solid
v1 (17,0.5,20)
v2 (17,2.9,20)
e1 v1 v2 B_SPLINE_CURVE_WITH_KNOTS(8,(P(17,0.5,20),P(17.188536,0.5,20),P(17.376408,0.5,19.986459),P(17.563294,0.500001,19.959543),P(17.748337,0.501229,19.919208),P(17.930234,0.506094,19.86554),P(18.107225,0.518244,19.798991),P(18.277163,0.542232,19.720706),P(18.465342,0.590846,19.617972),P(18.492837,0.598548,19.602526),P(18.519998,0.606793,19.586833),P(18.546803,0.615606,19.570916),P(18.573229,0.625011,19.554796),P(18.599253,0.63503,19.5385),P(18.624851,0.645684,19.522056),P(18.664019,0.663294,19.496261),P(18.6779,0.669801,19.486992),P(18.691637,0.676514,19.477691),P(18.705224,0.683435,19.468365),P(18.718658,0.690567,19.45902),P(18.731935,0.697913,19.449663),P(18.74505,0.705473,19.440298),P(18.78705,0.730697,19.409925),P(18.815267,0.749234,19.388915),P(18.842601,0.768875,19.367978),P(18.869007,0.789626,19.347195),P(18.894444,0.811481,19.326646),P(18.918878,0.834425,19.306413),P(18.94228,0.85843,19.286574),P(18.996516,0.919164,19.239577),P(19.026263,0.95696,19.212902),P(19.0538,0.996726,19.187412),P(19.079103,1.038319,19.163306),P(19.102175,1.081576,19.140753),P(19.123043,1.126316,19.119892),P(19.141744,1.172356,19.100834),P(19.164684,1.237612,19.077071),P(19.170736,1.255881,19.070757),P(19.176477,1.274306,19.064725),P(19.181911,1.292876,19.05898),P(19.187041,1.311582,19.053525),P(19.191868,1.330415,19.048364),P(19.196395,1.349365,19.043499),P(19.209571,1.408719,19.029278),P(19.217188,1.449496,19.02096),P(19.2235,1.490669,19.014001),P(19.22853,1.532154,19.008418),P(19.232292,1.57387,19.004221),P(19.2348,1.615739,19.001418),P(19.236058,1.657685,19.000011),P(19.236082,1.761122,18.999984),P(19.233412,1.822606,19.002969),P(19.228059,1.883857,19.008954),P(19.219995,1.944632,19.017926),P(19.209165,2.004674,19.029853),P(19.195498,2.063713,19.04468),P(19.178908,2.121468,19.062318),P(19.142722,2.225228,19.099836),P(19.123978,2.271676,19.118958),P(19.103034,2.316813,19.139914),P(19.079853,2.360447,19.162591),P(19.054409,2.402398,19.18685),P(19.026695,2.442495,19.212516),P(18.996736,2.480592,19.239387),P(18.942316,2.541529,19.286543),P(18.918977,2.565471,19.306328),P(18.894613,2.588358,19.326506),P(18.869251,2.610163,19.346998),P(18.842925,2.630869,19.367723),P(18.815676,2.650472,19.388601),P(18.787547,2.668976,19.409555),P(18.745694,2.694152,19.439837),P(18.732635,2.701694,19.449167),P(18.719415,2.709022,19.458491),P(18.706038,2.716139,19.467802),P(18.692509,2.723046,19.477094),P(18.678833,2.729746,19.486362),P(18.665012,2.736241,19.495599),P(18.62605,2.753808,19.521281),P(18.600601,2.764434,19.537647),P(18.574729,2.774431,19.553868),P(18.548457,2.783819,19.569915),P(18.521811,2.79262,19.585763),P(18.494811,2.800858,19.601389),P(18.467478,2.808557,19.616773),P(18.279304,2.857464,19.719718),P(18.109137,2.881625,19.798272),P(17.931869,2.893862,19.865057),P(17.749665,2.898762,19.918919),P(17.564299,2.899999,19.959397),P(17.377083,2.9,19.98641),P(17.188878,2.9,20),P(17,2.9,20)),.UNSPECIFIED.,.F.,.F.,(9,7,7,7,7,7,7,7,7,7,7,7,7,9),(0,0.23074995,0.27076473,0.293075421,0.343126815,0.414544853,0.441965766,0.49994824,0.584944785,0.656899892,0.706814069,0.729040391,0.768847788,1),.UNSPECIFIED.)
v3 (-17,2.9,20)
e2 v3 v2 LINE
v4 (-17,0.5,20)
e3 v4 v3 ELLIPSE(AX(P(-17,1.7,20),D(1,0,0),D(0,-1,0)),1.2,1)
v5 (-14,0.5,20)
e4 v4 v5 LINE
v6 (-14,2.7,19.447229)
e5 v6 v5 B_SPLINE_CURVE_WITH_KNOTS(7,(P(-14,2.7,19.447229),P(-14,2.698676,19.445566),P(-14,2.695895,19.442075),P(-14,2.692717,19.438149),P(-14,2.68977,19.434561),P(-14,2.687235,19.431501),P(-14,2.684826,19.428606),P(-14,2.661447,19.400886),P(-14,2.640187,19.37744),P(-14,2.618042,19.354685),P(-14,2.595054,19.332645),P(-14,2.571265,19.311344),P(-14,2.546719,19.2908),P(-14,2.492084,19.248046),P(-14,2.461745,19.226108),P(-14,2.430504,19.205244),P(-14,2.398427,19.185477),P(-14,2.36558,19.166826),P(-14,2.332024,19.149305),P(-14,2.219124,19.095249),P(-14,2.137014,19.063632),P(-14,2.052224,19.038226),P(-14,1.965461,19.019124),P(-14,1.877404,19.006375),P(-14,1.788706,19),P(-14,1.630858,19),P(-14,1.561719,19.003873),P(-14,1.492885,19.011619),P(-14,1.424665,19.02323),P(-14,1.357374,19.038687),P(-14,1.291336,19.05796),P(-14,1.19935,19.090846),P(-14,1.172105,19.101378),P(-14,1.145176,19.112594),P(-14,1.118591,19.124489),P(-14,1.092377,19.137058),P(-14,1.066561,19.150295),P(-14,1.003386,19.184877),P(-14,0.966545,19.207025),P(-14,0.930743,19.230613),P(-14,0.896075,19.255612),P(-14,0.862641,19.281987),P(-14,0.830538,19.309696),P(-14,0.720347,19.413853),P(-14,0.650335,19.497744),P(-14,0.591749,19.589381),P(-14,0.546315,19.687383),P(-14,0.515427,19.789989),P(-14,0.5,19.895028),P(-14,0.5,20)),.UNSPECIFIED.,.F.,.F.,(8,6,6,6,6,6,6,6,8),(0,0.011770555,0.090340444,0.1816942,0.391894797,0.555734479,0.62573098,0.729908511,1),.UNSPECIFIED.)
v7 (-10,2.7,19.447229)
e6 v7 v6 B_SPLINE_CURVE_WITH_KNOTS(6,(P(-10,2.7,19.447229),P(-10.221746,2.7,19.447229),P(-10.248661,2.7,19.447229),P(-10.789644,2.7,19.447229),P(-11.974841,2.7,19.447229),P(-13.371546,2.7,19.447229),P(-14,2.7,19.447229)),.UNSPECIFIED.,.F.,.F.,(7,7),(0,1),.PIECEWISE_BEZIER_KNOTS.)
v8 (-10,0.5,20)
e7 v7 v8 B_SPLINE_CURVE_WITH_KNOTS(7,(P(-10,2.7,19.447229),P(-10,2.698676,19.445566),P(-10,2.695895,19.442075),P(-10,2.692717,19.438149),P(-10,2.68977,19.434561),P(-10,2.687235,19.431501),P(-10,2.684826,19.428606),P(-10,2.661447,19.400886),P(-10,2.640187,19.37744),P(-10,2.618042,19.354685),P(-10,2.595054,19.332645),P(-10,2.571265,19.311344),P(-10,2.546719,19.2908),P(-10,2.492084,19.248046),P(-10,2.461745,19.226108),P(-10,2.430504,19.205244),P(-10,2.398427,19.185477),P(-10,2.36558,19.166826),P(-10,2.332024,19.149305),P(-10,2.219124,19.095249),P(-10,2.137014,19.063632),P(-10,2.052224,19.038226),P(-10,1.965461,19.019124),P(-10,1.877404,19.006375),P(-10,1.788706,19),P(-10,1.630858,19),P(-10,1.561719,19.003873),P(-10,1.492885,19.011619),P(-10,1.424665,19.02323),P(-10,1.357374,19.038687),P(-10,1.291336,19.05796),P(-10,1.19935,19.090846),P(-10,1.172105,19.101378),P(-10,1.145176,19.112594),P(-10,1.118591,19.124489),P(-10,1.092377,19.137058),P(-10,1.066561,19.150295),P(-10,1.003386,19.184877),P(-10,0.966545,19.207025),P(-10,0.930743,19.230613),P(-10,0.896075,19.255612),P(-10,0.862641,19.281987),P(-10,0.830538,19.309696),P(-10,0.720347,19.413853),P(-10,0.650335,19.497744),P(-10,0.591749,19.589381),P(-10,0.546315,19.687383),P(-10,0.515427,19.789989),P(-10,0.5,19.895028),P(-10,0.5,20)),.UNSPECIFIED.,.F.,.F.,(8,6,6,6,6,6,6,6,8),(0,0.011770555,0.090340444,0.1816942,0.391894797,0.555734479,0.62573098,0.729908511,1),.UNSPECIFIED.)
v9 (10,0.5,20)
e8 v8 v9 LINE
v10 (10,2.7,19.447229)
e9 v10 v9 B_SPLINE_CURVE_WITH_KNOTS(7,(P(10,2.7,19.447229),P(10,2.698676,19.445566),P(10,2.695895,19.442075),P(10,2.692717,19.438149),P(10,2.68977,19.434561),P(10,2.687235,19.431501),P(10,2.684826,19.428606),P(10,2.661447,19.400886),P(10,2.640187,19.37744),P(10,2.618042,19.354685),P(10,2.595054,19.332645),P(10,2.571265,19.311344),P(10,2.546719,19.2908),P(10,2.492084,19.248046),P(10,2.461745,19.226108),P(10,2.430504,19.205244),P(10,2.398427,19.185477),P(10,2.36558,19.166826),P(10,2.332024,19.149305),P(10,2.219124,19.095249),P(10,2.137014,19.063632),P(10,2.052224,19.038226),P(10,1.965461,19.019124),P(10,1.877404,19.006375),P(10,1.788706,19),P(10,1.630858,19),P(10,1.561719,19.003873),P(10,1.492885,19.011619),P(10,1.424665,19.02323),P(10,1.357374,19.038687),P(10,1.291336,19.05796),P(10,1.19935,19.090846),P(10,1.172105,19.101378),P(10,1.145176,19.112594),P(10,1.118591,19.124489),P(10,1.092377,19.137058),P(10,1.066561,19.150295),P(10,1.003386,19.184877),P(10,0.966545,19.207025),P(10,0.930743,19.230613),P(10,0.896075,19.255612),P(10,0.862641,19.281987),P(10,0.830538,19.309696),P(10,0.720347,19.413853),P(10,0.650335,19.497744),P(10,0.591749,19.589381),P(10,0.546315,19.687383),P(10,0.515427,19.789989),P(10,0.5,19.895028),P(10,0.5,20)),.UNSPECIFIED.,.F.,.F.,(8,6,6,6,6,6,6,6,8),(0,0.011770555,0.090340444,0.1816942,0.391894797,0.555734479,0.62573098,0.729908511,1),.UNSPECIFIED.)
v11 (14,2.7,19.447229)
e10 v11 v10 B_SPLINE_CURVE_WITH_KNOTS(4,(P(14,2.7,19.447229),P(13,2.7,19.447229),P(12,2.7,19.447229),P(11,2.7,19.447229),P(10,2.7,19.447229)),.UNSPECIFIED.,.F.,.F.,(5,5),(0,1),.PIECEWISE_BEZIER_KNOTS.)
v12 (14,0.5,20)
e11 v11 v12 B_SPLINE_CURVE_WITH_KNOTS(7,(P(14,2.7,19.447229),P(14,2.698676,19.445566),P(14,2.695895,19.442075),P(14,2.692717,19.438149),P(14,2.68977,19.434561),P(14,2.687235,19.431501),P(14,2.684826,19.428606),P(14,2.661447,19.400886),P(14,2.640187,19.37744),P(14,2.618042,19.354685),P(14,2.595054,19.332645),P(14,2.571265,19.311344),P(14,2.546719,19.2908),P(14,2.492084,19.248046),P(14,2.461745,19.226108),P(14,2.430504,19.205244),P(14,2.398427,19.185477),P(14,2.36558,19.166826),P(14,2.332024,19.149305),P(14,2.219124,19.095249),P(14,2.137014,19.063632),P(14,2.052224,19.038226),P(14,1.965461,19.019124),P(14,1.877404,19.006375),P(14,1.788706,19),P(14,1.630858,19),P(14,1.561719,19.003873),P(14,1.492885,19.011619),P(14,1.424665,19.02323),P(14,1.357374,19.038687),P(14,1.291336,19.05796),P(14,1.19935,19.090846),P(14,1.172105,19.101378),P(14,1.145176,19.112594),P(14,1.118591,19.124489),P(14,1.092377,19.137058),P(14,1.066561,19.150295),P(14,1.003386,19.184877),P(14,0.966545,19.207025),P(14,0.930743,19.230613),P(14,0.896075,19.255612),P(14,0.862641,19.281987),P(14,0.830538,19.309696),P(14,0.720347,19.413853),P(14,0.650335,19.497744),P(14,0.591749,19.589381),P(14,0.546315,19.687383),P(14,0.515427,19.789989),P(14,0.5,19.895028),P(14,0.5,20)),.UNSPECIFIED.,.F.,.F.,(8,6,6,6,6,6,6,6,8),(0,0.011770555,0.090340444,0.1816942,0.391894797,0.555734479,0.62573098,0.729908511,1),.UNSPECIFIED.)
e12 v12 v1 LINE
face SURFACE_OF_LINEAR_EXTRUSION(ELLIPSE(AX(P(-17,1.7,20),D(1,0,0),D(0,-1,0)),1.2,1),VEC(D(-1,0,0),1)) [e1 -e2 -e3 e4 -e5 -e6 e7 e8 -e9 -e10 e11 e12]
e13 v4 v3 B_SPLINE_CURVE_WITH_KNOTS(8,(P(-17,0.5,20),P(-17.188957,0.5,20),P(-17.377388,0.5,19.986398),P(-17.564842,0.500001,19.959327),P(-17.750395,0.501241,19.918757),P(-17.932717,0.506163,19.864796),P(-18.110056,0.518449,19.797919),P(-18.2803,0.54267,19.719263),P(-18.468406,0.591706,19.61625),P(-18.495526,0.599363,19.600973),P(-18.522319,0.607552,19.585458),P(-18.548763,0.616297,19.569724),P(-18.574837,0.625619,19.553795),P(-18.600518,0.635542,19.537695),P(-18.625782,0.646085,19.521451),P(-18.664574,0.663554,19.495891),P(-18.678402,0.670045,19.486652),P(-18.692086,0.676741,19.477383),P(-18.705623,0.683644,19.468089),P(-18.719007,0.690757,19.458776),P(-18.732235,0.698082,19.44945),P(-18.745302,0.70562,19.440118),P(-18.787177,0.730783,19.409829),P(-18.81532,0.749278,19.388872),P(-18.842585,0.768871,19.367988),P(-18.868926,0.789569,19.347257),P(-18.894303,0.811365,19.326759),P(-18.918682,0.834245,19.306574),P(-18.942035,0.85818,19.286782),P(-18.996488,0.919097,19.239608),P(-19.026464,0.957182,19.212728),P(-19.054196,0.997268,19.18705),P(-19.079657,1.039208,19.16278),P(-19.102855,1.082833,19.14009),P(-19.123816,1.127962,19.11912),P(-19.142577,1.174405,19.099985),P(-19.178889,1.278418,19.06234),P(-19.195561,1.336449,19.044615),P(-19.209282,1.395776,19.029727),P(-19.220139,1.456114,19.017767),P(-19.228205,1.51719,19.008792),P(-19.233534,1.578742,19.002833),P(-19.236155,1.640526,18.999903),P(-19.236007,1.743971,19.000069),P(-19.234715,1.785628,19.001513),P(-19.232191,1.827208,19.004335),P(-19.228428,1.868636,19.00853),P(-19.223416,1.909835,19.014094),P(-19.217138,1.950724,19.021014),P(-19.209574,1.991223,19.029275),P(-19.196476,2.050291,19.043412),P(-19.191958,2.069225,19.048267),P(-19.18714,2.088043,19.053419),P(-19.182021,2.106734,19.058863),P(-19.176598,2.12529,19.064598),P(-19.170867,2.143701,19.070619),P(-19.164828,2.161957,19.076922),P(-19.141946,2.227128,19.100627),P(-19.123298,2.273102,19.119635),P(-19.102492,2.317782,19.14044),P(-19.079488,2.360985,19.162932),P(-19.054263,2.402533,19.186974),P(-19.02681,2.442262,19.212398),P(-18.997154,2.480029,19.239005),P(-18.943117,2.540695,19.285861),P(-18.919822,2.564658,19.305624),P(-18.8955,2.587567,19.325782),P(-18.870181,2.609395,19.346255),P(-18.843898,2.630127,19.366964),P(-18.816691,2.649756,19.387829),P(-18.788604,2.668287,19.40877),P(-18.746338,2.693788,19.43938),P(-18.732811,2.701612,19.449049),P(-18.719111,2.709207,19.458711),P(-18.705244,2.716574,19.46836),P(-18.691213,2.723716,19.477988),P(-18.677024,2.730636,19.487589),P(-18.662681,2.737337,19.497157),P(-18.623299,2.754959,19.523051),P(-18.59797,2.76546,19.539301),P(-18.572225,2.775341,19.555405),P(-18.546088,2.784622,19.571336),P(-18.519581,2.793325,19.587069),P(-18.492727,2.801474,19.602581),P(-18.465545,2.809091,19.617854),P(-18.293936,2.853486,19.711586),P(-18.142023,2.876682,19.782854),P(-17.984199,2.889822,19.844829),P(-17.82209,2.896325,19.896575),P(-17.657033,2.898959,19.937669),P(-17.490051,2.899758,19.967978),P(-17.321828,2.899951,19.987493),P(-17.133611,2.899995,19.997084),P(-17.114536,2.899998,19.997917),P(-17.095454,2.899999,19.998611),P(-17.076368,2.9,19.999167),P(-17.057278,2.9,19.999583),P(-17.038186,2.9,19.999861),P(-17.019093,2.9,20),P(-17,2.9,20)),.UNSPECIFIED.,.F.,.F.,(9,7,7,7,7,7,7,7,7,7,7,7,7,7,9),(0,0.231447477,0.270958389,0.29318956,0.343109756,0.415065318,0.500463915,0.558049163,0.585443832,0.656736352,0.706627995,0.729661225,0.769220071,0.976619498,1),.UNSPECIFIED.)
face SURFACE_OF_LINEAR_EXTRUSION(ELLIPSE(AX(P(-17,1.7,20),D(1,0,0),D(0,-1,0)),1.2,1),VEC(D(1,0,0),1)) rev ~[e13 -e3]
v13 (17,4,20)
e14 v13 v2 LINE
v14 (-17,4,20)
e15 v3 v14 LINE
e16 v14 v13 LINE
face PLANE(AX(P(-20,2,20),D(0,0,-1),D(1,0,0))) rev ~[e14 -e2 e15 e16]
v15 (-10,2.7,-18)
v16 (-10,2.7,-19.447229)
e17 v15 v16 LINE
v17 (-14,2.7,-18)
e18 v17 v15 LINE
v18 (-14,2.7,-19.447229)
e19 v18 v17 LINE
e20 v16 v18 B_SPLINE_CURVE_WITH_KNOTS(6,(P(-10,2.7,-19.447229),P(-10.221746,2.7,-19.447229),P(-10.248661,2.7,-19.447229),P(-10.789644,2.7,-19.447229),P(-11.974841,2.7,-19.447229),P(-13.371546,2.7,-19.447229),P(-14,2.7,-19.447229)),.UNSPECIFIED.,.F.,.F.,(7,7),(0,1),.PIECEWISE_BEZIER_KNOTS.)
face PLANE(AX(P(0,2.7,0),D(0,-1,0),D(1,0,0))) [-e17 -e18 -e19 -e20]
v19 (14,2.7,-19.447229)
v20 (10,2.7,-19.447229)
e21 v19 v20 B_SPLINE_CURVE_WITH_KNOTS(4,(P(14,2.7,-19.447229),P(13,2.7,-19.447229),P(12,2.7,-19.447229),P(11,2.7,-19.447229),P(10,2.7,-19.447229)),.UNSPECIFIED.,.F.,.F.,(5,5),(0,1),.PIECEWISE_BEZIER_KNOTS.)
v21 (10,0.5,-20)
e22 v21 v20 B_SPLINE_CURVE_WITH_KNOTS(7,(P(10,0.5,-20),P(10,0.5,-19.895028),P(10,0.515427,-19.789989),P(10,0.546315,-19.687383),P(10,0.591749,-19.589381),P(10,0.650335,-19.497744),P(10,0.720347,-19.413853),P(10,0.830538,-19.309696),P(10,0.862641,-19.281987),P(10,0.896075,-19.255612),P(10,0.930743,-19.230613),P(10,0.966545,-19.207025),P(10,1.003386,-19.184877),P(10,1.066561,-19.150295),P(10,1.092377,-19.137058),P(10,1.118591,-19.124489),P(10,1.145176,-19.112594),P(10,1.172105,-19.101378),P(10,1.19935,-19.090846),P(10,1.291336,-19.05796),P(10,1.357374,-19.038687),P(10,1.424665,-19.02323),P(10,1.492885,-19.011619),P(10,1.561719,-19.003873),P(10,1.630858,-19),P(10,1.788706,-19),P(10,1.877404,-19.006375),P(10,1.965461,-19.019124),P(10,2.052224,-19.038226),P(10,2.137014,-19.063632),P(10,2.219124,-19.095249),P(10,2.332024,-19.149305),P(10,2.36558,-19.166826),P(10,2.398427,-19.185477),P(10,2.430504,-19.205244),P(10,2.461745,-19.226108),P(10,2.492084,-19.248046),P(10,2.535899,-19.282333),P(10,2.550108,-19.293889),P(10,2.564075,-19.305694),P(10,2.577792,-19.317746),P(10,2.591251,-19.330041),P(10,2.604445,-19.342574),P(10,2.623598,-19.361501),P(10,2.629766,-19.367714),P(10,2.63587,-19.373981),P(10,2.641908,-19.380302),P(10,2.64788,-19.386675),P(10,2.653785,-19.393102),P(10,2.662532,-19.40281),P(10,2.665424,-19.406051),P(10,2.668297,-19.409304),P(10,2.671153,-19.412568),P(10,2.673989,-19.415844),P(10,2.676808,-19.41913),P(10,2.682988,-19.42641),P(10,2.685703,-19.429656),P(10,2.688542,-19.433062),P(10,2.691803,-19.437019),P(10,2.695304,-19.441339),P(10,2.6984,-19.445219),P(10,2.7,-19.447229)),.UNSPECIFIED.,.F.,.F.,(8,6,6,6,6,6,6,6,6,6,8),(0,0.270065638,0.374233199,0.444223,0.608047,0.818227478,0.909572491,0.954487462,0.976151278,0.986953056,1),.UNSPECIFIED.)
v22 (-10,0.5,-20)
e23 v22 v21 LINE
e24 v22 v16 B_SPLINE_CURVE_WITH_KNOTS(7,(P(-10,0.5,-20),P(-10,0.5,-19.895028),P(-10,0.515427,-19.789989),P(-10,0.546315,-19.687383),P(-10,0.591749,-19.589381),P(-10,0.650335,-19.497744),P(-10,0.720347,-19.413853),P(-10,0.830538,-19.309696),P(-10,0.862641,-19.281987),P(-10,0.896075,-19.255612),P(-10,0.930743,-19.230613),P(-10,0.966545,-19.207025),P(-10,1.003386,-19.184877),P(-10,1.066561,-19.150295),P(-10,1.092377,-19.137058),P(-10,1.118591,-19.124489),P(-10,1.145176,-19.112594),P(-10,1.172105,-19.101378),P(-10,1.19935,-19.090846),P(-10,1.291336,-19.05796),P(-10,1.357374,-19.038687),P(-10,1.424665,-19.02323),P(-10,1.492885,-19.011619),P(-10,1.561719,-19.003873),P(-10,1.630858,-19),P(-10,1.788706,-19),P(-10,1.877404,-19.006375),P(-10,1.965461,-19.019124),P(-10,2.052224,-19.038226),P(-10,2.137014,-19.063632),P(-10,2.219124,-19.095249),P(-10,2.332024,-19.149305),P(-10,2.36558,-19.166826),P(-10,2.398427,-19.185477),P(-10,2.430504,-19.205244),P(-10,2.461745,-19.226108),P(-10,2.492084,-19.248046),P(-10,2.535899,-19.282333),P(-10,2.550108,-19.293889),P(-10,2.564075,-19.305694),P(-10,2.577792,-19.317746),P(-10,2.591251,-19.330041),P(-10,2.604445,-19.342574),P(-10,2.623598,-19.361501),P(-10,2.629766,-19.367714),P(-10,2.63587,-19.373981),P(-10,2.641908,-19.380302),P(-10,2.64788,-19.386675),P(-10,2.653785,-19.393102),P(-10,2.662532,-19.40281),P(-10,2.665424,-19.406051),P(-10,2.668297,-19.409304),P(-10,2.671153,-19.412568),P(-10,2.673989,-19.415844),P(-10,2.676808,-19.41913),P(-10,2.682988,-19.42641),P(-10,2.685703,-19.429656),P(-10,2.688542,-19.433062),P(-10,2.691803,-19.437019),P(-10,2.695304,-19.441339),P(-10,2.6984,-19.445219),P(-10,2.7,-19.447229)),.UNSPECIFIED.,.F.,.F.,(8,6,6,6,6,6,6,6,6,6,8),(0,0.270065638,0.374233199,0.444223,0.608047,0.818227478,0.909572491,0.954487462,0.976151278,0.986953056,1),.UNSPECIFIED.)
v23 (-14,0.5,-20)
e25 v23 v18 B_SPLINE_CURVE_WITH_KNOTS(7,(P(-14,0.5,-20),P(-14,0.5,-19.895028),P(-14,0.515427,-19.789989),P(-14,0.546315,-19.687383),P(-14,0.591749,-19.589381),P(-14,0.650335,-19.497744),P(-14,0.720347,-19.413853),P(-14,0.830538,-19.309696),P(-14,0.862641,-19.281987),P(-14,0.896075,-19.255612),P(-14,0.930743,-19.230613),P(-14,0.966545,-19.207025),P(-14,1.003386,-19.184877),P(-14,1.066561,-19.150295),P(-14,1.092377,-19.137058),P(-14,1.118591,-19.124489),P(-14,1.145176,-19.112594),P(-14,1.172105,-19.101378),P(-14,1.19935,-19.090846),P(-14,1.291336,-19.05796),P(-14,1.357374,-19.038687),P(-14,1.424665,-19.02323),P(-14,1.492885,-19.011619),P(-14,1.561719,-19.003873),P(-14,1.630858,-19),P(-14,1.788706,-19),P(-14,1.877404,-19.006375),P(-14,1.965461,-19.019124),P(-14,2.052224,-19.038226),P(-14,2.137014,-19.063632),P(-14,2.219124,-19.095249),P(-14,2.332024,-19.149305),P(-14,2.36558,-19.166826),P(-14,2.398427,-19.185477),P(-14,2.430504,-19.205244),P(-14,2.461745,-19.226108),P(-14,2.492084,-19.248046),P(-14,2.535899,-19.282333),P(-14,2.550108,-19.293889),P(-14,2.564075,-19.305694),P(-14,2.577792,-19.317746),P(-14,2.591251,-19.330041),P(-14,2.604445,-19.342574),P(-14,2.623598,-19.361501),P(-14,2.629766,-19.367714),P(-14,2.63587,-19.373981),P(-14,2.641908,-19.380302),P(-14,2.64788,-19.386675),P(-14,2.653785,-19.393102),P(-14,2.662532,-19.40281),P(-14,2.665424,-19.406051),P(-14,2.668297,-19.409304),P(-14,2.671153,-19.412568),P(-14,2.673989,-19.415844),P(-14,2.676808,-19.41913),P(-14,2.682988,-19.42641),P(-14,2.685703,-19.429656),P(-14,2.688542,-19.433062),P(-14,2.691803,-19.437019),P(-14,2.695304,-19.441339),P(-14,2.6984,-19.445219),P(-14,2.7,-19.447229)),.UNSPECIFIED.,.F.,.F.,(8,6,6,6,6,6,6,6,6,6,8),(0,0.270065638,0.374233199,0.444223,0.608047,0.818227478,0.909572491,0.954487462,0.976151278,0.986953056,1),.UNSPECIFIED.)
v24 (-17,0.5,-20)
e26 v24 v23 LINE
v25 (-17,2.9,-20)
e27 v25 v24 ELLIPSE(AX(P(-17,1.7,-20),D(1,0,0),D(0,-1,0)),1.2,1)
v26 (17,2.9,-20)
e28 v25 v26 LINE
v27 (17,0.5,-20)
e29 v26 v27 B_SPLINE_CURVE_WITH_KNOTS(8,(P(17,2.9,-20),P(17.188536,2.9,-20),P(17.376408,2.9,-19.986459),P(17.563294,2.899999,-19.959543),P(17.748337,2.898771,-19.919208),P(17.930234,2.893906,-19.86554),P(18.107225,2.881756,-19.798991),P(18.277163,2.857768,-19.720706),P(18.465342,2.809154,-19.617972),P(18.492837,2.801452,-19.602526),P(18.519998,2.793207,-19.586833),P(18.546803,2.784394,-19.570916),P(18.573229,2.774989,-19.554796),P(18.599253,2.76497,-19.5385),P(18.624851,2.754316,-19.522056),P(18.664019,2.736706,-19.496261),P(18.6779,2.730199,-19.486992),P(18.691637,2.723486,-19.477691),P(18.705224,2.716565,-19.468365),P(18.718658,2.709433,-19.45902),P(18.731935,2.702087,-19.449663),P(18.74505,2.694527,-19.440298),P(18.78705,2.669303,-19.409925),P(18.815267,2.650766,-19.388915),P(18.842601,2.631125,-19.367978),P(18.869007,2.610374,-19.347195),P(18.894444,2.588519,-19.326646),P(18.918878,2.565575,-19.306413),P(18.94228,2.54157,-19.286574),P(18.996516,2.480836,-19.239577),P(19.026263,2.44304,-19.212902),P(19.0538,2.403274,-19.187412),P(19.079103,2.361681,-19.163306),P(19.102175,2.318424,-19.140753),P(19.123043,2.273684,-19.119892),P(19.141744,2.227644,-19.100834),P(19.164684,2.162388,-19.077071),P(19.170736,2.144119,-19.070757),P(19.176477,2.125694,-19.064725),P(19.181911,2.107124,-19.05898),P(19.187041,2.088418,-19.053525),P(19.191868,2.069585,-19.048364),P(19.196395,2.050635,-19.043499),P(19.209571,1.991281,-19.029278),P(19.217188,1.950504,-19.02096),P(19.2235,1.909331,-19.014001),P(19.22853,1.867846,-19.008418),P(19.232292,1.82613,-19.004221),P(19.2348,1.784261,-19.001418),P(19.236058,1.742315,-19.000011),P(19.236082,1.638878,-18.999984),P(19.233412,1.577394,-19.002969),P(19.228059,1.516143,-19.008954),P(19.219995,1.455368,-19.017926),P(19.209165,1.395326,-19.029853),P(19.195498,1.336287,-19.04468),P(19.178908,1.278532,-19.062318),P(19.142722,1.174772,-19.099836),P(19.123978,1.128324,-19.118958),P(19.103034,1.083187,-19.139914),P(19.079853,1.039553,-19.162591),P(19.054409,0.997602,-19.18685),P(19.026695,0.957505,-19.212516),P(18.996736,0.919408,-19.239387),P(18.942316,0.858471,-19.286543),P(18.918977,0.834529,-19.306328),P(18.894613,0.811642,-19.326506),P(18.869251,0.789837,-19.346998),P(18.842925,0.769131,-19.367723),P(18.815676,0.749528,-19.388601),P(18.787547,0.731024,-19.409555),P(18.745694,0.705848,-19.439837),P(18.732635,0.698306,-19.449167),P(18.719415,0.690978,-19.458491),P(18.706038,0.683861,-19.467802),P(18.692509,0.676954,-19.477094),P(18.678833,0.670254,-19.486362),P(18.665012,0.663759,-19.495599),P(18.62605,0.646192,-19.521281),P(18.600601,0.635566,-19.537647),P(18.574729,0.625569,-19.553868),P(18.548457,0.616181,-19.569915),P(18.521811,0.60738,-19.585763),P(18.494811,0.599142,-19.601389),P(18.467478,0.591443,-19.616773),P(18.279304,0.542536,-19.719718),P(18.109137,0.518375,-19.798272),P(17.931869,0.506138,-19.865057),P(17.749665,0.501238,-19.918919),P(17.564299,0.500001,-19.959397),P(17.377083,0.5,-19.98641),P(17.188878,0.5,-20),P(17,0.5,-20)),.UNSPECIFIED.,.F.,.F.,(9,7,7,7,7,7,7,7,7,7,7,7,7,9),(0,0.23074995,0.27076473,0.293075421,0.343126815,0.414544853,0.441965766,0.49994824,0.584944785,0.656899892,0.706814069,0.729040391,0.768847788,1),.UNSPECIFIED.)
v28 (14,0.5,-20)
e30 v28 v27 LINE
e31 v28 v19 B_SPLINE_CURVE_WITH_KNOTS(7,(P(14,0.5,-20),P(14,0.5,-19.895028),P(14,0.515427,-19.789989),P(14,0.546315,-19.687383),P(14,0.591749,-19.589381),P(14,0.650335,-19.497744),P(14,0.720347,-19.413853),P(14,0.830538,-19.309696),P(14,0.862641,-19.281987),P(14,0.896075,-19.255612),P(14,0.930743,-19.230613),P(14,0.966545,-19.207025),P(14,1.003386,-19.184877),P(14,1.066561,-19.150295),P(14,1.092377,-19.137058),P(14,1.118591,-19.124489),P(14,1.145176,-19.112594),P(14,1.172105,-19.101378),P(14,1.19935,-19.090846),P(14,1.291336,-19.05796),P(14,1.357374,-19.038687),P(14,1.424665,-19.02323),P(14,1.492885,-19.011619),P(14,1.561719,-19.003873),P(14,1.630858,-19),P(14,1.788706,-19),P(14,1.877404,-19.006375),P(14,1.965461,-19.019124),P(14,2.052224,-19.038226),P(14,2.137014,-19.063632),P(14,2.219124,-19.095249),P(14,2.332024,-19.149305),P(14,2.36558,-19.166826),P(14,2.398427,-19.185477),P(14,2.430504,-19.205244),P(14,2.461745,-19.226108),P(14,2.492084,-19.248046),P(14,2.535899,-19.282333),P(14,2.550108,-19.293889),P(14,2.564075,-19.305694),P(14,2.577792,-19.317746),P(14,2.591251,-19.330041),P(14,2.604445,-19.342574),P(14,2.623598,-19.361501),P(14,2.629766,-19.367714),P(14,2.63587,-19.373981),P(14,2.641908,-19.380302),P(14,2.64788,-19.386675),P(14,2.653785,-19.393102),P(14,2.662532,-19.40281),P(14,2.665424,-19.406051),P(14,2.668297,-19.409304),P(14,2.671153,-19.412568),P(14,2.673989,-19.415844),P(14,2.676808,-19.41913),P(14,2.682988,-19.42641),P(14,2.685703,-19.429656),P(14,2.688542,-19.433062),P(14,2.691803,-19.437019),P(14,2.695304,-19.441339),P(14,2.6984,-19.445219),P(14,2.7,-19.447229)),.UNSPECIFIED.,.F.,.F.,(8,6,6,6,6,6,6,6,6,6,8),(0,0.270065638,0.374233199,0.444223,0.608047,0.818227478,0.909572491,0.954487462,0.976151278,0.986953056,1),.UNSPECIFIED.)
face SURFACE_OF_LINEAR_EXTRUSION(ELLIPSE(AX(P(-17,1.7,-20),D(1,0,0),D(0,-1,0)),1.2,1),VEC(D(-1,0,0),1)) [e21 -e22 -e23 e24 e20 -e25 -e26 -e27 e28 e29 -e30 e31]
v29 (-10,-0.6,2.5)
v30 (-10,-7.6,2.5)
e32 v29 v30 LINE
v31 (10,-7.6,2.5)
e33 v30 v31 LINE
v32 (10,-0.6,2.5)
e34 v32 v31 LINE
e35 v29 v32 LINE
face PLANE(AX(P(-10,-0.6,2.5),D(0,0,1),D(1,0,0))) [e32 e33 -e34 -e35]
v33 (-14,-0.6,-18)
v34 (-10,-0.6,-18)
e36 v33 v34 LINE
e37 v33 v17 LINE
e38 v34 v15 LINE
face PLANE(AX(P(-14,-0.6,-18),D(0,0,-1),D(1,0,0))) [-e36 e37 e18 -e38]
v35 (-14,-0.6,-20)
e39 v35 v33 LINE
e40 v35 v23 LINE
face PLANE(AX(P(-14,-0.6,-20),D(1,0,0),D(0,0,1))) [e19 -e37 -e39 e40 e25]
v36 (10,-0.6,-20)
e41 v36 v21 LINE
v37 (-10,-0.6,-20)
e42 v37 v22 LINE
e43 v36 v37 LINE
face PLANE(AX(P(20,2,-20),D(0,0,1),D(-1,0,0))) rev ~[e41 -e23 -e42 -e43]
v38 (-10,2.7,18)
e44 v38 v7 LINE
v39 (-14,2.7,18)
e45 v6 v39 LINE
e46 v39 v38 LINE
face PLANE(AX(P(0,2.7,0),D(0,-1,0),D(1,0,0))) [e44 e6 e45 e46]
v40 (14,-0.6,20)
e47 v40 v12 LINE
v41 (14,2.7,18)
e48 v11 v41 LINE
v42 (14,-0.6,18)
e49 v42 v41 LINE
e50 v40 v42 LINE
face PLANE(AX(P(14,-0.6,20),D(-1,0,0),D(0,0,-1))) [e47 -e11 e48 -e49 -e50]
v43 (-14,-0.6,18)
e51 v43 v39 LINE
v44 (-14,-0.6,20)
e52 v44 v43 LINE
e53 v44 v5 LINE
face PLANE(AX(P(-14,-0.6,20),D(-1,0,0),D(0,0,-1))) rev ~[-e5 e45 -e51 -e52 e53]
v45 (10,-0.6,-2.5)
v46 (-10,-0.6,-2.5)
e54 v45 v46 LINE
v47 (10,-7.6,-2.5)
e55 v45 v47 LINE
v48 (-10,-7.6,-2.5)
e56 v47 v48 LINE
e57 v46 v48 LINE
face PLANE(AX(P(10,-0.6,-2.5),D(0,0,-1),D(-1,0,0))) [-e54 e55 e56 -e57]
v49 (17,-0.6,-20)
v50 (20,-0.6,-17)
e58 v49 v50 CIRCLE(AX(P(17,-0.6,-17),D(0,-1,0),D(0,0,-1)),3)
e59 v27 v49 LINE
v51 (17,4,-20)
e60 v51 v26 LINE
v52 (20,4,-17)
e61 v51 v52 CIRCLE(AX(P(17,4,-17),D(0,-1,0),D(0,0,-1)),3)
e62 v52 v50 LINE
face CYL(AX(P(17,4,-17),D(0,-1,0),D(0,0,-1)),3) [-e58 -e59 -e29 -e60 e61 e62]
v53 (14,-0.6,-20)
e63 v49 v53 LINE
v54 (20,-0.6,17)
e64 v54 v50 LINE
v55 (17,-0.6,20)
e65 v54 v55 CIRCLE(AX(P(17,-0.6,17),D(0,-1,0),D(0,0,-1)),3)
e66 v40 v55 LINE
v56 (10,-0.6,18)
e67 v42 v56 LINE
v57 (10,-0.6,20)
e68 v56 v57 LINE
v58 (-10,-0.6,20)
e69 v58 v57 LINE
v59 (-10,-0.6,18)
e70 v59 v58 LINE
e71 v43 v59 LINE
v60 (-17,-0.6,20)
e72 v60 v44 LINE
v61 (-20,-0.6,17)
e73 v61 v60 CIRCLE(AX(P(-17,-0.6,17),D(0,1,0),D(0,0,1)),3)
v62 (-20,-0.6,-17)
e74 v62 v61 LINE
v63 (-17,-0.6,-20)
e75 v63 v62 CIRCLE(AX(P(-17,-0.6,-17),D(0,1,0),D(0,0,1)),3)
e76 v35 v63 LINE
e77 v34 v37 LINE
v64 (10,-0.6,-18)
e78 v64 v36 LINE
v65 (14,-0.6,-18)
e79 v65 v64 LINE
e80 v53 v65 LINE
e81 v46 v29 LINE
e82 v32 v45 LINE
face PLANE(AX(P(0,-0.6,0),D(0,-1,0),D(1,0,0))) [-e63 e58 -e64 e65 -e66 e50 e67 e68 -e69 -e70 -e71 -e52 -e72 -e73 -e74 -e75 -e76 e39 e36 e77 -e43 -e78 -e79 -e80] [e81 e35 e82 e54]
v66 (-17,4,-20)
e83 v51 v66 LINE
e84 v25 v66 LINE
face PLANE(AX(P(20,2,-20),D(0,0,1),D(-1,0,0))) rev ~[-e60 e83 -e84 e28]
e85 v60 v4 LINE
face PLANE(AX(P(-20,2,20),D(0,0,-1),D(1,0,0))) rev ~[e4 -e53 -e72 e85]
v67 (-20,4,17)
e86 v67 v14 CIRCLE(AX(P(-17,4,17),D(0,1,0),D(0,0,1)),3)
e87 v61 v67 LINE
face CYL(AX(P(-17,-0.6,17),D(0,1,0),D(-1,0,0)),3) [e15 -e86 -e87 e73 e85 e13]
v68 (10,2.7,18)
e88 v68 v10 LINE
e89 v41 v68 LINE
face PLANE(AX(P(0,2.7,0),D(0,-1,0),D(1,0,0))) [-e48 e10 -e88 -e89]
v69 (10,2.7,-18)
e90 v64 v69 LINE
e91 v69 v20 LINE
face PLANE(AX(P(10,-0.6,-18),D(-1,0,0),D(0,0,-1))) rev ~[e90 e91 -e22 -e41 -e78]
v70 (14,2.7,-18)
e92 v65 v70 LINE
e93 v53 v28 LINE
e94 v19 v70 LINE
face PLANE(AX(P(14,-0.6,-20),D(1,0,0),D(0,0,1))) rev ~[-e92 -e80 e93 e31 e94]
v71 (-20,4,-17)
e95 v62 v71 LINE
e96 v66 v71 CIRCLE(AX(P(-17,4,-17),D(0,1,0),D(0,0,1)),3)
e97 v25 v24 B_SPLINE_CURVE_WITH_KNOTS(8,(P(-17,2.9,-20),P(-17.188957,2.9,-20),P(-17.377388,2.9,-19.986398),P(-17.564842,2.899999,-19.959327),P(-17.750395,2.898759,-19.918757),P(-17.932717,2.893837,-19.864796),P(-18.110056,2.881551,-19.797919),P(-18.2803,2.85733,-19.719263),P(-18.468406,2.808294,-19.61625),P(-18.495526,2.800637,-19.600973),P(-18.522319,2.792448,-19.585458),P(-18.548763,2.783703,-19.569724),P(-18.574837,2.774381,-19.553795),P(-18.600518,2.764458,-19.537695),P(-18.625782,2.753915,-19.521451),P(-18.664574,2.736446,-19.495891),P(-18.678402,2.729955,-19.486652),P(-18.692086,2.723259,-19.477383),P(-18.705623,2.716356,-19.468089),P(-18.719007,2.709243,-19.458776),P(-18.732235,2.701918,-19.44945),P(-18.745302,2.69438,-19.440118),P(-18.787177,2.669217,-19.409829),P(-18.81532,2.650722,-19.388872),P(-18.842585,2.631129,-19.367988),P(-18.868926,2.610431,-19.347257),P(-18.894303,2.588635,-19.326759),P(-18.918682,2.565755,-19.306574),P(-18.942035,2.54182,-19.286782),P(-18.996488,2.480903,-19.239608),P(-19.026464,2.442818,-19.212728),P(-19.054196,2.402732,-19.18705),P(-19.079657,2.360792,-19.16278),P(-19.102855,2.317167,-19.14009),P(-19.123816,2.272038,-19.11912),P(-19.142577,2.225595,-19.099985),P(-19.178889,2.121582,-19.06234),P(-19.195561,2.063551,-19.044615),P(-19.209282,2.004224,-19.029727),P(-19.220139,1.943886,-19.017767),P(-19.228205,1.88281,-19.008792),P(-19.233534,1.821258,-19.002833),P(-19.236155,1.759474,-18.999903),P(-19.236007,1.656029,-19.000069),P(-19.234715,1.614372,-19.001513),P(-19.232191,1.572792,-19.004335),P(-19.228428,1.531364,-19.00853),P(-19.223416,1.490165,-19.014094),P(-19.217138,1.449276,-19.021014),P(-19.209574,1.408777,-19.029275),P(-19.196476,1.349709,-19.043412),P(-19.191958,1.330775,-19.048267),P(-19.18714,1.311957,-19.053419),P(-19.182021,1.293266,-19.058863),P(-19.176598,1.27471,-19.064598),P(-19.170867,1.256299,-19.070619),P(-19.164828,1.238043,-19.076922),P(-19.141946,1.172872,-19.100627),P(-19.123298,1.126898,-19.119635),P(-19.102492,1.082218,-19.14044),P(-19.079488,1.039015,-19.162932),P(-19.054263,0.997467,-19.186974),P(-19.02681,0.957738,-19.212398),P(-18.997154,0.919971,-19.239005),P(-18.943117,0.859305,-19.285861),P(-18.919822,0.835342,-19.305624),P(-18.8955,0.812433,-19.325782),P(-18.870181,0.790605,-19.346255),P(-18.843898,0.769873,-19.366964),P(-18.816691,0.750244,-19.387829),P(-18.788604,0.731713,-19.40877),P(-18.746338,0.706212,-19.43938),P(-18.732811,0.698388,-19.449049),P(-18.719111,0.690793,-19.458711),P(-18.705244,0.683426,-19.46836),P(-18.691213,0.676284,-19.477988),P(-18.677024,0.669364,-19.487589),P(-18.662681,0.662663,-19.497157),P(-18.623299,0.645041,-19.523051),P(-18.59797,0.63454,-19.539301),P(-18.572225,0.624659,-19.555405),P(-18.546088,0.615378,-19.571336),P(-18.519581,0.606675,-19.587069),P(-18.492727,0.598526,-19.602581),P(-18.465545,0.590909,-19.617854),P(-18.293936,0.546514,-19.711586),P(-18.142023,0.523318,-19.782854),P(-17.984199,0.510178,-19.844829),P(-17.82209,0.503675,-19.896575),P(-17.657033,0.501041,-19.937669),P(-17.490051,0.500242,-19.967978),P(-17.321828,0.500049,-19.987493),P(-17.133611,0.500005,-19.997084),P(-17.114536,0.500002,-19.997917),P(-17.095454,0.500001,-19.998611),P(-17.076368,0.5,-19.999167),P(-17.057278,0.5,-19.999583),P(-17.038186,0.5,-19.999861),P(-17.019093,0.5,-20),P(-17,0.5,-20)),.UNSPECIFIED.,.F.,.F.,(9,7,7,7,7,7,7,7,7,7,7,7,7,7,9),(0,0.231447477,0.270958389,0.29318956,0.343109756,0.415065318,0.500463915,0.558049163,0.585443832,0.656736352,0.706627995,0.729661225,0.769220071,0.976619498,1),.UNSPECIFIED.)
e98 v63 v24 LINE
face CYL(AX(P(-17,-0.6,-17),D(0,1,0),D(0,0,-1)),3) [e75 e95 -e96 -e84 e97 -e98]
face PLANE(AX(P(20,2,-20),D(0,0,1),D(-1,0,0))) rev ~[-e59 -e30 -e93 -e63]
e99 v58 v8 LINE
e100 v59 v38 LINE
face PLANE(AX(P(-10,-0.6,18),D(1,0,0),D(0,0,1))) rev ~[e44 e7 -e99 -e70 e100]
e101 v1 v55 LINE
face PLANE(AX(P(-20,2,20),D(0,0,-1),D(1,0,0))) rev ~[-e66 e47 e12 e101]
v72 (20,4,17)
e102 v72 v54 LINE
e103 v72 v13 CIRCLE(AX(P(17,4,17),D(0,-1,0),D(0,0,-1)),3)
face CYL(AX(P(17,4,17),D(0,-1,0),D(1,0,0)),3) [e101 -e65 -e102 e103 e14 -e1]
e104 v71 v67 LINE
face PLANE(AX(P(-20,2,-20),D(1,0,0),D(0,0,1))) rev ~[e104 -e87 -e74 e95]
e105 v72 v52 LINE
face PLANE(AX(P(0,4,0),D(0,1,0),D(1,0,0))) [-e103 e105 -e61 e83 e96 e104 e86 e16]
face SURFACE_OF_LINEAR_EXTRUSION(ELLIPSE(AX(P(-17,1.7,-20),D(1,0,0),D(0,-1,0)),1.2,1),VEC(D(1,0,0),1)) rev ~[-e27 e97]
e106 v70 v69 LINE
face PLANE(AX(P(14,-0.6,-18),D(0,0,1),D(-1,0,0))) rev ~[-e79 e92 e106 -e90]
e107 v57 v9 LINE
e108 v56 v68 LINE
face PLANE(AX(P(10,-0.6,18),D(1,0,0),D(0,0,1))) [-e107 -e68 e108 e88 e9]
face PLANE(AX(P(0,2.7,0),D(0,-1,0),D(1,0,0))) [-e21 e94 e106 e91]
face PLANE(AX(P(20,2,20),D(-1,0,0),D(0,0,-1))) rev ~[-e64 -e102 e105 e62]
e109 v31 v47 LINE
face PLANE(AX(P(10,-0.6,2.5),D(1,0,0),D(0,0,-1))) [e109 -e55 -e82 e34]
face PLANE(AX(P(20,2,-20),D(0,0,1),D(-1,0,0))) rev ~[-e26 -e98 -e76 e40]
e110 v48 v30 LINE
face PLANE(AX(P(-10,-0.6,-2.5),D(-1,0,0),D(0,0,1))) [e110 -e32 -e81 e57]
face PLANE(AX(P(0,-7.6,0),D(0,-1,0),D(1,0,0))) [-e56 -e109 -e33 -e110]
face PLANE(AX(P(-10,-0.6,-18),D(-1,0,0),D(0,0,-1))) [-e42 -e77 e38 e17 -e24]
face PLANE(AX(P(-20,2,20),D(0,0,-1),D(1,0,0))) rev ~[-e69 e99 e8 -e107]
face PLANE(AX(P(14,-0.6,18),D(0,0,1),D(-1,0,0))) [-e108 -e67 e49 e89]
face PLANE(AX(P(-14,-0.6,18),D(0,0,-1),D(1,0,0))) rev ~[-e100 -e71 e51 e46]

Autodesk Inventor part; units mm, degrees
ref_plane "YZ Plane" through (0, 0, 0) normal (1, 0, 0) x (0, 1, 0)
ref_plane "XZ Plane" through (0, 0, 0) normal (0, 1, 0) x (-1, 0, 0)
sketch "Sketch1" plane through (0, 0, 0) normal (0, 1, 0) x (-1, 0, 0)
  line L0 (20, 20) -> (-20, 20)
  line L1 (-20, 20) -> (-20, -20)
  line L2 (-20, -20) -> (20, -20)
  line L3 (20, -20) -> (20, 20)
  circle A0 centre (12.5, 12.5) radius 4.25
  circle A1 centre (12.5, -12.5) radius 4.25
  circle A2 centre (-12.5, -12.5) radius 4.25
  circle A3 centre (-12.5, 12.5) radius 4.25
  line L4 (20, 0) -> (-20, 0) construction
  line L5 (0, 20) -> (0, -20) construction
  point P0 (0, 0)
  dimension "d0" = 40
  dimension "d1" = 40
  dimension "d2" = 8.5
  dimension "d3" = 25
  dimension "d4" = 25
extrude "Extrusion2" add sketch "Sketch1" along normal blind 2 contours L3 L2 L1 L0 | A0 | A1 | A2 | A3
sketch "Sketch2" plane through (0, 0, 0) normal (0, -1, 0) x (1, 0, 0)
  line L0 (20, 20) -> (20, -20) projected
  line L1 (-20, 20) -> (20, 20) projected
  line L2 (-20, -20) -> (-20, 20) projected
  line L3 (20, -20) -> (-20, -20) projected
  point P0 (0, 0)
extrude "Extrusion3" add sketch "Sketch2" along normal blind 0.6
sketch "Sketch3" plane through (0, 2, 0) normal (0, 1, 0) x (1, 0, 0)
  line L0 (-20, 20) -> (-20, -20) projected
  line L1 (-20, -20) -> (20, -20) projected
  line L2 (20, -20) -> (20, 20) projected
  line L3 (20, 20) -> (-20, 20) projected
  point P0 (0, 0)
extrude "Extrusion4" add sketch "Sketch3" along normal blind 2
fillet "Fillet1" radius 3 4 edges at (-20, 1.7, 20) (-20, 1.7, -20) (20, 1.7, 20) (20, 1.7, -20)
ref_plane "Arbeitsebene1" through (-17, 4, 20) normal (1, 0, 0) x (0, -1, 0)
sketch "Skizze5" plane through (-17, 4, 20) normal (1, 0, 0) x (0, -1, 0)
  line L0 (0, 0) -> (4.6, 0) construction
  line L1 (0, 0) -> (0, 3) construction
  line L2 (0.7, 0) -> (3.5, 0) construction
  line L3 (6.1491, 20) -> (-1.642, 20) construction
  line L4 (0, 40) -> (4.6, 40) construction
  line L5 (0.7, 40) -> (3.5, 40) construction
  line L6 (2.3, 0) -> (2.3, 4.6722) construction
  ellipse E0 centre (2.3, 0) end of major axis (3.5, 0) minor radius 1
  line L7 (1.1, 0) -> (3.5, 0)
  line L8 (0, 40) -> (4.6, 40) construction
  line L9 (0.7, 40) -> (3.5, 40) construction
  ellipse E1 centre (2.3, 40) end of major axis (3.5, 40) minor radius 1
  line L10 (1.1, 40) -> (3.5, 40)
  point P0 (4, 20)
  point P1 (2.3, 1)
  dimension "d22" = 2.3
  dimension "d23" = 1.2
  dimension "d28" = 1
extrude "Extrusion7" cut sketch "Skizze5" along normal blind 37 and the other way blind 5 contours L7 E0 | E1 L10 picked at (2.3176, 0.333) picked at (2.2824, 39.667)
sketch "Skizze6" plane through (0, -0.6, 0) normal (0, -1, 0) x (1, 0, 0)
  line L0 (17, 20) -> (-17, 20) projected
  line L1 (-20, 17) -> (-20, -17) construction
  line L2 (-14, 20) -> (-14, 18)
  line L3 (-14, 20) -> (-10, 20)
  line L4 (0, 16.6905) -> (0, 25.5183)
  line L5 (7.2129, 0) -> (-7.9382, 0)
  line L6 (-17, 20) -> (17, 20)
  line L7 (14, 20) -> (10, 20)
  line L8 (17, -20) -> (-17, -20)
  line L9 (-14, 18) -> (-10, 18)
  line L10 (-10, 18) -> (-10, 20)
  line L11 (-17, -20) -> (17, -20) projected
  line L12 (14, 20) -> (14, 18)
  line L13 (14, 18) -> (10, 18)
  line L14 (10, 18) -> (10, 20)
  line L15 (-14, -20) -> (-14, -18)
  line L16 (-14, -18) -> (-10, -18)
  line L17 (-10, -18) -> (-10, -20)
  line L18 (10, -18) -> (10, -20)
  line L19 (14, -18) -> (10, -18)
  line L20 (14, -20) -> (14, -18)
  point P0 (0, 0)
  point P1 (-12, 20)
  dimension "d34" = 8
  dimension "d35" = 2
  dimension "d41" = 2
  dimension "d42" = 4
extrude "Extrusion8" cut sketch "Skizze6" against normal blind 3.3
sketch "Skizze7" plane through (0, -0.6, 0) normal (0, -1, 0) x (1, 0, 0)
  line L0 (-10, 2.5) -> (10, 2.5)
  line L1 (10, 2.5) -> (10, -2.5)
  line L2 (10, -2.5) -> (-10, -2.5)
  line L3 (-10, -2.5) -> (-10, 2.5)
  line L4 (-10, 2.5) -> (10, -2.5) construction
  line L5 (10, 2.5) -> (-10, -2.5) construction
  point P0 (0, 0)
  dimension "d43" = 5
  dimension "d44" = 20
extrude "Extrusion9" add sketch "Skizze7" along normal blind 7
properties part number "IMU_mount_baseplate"
